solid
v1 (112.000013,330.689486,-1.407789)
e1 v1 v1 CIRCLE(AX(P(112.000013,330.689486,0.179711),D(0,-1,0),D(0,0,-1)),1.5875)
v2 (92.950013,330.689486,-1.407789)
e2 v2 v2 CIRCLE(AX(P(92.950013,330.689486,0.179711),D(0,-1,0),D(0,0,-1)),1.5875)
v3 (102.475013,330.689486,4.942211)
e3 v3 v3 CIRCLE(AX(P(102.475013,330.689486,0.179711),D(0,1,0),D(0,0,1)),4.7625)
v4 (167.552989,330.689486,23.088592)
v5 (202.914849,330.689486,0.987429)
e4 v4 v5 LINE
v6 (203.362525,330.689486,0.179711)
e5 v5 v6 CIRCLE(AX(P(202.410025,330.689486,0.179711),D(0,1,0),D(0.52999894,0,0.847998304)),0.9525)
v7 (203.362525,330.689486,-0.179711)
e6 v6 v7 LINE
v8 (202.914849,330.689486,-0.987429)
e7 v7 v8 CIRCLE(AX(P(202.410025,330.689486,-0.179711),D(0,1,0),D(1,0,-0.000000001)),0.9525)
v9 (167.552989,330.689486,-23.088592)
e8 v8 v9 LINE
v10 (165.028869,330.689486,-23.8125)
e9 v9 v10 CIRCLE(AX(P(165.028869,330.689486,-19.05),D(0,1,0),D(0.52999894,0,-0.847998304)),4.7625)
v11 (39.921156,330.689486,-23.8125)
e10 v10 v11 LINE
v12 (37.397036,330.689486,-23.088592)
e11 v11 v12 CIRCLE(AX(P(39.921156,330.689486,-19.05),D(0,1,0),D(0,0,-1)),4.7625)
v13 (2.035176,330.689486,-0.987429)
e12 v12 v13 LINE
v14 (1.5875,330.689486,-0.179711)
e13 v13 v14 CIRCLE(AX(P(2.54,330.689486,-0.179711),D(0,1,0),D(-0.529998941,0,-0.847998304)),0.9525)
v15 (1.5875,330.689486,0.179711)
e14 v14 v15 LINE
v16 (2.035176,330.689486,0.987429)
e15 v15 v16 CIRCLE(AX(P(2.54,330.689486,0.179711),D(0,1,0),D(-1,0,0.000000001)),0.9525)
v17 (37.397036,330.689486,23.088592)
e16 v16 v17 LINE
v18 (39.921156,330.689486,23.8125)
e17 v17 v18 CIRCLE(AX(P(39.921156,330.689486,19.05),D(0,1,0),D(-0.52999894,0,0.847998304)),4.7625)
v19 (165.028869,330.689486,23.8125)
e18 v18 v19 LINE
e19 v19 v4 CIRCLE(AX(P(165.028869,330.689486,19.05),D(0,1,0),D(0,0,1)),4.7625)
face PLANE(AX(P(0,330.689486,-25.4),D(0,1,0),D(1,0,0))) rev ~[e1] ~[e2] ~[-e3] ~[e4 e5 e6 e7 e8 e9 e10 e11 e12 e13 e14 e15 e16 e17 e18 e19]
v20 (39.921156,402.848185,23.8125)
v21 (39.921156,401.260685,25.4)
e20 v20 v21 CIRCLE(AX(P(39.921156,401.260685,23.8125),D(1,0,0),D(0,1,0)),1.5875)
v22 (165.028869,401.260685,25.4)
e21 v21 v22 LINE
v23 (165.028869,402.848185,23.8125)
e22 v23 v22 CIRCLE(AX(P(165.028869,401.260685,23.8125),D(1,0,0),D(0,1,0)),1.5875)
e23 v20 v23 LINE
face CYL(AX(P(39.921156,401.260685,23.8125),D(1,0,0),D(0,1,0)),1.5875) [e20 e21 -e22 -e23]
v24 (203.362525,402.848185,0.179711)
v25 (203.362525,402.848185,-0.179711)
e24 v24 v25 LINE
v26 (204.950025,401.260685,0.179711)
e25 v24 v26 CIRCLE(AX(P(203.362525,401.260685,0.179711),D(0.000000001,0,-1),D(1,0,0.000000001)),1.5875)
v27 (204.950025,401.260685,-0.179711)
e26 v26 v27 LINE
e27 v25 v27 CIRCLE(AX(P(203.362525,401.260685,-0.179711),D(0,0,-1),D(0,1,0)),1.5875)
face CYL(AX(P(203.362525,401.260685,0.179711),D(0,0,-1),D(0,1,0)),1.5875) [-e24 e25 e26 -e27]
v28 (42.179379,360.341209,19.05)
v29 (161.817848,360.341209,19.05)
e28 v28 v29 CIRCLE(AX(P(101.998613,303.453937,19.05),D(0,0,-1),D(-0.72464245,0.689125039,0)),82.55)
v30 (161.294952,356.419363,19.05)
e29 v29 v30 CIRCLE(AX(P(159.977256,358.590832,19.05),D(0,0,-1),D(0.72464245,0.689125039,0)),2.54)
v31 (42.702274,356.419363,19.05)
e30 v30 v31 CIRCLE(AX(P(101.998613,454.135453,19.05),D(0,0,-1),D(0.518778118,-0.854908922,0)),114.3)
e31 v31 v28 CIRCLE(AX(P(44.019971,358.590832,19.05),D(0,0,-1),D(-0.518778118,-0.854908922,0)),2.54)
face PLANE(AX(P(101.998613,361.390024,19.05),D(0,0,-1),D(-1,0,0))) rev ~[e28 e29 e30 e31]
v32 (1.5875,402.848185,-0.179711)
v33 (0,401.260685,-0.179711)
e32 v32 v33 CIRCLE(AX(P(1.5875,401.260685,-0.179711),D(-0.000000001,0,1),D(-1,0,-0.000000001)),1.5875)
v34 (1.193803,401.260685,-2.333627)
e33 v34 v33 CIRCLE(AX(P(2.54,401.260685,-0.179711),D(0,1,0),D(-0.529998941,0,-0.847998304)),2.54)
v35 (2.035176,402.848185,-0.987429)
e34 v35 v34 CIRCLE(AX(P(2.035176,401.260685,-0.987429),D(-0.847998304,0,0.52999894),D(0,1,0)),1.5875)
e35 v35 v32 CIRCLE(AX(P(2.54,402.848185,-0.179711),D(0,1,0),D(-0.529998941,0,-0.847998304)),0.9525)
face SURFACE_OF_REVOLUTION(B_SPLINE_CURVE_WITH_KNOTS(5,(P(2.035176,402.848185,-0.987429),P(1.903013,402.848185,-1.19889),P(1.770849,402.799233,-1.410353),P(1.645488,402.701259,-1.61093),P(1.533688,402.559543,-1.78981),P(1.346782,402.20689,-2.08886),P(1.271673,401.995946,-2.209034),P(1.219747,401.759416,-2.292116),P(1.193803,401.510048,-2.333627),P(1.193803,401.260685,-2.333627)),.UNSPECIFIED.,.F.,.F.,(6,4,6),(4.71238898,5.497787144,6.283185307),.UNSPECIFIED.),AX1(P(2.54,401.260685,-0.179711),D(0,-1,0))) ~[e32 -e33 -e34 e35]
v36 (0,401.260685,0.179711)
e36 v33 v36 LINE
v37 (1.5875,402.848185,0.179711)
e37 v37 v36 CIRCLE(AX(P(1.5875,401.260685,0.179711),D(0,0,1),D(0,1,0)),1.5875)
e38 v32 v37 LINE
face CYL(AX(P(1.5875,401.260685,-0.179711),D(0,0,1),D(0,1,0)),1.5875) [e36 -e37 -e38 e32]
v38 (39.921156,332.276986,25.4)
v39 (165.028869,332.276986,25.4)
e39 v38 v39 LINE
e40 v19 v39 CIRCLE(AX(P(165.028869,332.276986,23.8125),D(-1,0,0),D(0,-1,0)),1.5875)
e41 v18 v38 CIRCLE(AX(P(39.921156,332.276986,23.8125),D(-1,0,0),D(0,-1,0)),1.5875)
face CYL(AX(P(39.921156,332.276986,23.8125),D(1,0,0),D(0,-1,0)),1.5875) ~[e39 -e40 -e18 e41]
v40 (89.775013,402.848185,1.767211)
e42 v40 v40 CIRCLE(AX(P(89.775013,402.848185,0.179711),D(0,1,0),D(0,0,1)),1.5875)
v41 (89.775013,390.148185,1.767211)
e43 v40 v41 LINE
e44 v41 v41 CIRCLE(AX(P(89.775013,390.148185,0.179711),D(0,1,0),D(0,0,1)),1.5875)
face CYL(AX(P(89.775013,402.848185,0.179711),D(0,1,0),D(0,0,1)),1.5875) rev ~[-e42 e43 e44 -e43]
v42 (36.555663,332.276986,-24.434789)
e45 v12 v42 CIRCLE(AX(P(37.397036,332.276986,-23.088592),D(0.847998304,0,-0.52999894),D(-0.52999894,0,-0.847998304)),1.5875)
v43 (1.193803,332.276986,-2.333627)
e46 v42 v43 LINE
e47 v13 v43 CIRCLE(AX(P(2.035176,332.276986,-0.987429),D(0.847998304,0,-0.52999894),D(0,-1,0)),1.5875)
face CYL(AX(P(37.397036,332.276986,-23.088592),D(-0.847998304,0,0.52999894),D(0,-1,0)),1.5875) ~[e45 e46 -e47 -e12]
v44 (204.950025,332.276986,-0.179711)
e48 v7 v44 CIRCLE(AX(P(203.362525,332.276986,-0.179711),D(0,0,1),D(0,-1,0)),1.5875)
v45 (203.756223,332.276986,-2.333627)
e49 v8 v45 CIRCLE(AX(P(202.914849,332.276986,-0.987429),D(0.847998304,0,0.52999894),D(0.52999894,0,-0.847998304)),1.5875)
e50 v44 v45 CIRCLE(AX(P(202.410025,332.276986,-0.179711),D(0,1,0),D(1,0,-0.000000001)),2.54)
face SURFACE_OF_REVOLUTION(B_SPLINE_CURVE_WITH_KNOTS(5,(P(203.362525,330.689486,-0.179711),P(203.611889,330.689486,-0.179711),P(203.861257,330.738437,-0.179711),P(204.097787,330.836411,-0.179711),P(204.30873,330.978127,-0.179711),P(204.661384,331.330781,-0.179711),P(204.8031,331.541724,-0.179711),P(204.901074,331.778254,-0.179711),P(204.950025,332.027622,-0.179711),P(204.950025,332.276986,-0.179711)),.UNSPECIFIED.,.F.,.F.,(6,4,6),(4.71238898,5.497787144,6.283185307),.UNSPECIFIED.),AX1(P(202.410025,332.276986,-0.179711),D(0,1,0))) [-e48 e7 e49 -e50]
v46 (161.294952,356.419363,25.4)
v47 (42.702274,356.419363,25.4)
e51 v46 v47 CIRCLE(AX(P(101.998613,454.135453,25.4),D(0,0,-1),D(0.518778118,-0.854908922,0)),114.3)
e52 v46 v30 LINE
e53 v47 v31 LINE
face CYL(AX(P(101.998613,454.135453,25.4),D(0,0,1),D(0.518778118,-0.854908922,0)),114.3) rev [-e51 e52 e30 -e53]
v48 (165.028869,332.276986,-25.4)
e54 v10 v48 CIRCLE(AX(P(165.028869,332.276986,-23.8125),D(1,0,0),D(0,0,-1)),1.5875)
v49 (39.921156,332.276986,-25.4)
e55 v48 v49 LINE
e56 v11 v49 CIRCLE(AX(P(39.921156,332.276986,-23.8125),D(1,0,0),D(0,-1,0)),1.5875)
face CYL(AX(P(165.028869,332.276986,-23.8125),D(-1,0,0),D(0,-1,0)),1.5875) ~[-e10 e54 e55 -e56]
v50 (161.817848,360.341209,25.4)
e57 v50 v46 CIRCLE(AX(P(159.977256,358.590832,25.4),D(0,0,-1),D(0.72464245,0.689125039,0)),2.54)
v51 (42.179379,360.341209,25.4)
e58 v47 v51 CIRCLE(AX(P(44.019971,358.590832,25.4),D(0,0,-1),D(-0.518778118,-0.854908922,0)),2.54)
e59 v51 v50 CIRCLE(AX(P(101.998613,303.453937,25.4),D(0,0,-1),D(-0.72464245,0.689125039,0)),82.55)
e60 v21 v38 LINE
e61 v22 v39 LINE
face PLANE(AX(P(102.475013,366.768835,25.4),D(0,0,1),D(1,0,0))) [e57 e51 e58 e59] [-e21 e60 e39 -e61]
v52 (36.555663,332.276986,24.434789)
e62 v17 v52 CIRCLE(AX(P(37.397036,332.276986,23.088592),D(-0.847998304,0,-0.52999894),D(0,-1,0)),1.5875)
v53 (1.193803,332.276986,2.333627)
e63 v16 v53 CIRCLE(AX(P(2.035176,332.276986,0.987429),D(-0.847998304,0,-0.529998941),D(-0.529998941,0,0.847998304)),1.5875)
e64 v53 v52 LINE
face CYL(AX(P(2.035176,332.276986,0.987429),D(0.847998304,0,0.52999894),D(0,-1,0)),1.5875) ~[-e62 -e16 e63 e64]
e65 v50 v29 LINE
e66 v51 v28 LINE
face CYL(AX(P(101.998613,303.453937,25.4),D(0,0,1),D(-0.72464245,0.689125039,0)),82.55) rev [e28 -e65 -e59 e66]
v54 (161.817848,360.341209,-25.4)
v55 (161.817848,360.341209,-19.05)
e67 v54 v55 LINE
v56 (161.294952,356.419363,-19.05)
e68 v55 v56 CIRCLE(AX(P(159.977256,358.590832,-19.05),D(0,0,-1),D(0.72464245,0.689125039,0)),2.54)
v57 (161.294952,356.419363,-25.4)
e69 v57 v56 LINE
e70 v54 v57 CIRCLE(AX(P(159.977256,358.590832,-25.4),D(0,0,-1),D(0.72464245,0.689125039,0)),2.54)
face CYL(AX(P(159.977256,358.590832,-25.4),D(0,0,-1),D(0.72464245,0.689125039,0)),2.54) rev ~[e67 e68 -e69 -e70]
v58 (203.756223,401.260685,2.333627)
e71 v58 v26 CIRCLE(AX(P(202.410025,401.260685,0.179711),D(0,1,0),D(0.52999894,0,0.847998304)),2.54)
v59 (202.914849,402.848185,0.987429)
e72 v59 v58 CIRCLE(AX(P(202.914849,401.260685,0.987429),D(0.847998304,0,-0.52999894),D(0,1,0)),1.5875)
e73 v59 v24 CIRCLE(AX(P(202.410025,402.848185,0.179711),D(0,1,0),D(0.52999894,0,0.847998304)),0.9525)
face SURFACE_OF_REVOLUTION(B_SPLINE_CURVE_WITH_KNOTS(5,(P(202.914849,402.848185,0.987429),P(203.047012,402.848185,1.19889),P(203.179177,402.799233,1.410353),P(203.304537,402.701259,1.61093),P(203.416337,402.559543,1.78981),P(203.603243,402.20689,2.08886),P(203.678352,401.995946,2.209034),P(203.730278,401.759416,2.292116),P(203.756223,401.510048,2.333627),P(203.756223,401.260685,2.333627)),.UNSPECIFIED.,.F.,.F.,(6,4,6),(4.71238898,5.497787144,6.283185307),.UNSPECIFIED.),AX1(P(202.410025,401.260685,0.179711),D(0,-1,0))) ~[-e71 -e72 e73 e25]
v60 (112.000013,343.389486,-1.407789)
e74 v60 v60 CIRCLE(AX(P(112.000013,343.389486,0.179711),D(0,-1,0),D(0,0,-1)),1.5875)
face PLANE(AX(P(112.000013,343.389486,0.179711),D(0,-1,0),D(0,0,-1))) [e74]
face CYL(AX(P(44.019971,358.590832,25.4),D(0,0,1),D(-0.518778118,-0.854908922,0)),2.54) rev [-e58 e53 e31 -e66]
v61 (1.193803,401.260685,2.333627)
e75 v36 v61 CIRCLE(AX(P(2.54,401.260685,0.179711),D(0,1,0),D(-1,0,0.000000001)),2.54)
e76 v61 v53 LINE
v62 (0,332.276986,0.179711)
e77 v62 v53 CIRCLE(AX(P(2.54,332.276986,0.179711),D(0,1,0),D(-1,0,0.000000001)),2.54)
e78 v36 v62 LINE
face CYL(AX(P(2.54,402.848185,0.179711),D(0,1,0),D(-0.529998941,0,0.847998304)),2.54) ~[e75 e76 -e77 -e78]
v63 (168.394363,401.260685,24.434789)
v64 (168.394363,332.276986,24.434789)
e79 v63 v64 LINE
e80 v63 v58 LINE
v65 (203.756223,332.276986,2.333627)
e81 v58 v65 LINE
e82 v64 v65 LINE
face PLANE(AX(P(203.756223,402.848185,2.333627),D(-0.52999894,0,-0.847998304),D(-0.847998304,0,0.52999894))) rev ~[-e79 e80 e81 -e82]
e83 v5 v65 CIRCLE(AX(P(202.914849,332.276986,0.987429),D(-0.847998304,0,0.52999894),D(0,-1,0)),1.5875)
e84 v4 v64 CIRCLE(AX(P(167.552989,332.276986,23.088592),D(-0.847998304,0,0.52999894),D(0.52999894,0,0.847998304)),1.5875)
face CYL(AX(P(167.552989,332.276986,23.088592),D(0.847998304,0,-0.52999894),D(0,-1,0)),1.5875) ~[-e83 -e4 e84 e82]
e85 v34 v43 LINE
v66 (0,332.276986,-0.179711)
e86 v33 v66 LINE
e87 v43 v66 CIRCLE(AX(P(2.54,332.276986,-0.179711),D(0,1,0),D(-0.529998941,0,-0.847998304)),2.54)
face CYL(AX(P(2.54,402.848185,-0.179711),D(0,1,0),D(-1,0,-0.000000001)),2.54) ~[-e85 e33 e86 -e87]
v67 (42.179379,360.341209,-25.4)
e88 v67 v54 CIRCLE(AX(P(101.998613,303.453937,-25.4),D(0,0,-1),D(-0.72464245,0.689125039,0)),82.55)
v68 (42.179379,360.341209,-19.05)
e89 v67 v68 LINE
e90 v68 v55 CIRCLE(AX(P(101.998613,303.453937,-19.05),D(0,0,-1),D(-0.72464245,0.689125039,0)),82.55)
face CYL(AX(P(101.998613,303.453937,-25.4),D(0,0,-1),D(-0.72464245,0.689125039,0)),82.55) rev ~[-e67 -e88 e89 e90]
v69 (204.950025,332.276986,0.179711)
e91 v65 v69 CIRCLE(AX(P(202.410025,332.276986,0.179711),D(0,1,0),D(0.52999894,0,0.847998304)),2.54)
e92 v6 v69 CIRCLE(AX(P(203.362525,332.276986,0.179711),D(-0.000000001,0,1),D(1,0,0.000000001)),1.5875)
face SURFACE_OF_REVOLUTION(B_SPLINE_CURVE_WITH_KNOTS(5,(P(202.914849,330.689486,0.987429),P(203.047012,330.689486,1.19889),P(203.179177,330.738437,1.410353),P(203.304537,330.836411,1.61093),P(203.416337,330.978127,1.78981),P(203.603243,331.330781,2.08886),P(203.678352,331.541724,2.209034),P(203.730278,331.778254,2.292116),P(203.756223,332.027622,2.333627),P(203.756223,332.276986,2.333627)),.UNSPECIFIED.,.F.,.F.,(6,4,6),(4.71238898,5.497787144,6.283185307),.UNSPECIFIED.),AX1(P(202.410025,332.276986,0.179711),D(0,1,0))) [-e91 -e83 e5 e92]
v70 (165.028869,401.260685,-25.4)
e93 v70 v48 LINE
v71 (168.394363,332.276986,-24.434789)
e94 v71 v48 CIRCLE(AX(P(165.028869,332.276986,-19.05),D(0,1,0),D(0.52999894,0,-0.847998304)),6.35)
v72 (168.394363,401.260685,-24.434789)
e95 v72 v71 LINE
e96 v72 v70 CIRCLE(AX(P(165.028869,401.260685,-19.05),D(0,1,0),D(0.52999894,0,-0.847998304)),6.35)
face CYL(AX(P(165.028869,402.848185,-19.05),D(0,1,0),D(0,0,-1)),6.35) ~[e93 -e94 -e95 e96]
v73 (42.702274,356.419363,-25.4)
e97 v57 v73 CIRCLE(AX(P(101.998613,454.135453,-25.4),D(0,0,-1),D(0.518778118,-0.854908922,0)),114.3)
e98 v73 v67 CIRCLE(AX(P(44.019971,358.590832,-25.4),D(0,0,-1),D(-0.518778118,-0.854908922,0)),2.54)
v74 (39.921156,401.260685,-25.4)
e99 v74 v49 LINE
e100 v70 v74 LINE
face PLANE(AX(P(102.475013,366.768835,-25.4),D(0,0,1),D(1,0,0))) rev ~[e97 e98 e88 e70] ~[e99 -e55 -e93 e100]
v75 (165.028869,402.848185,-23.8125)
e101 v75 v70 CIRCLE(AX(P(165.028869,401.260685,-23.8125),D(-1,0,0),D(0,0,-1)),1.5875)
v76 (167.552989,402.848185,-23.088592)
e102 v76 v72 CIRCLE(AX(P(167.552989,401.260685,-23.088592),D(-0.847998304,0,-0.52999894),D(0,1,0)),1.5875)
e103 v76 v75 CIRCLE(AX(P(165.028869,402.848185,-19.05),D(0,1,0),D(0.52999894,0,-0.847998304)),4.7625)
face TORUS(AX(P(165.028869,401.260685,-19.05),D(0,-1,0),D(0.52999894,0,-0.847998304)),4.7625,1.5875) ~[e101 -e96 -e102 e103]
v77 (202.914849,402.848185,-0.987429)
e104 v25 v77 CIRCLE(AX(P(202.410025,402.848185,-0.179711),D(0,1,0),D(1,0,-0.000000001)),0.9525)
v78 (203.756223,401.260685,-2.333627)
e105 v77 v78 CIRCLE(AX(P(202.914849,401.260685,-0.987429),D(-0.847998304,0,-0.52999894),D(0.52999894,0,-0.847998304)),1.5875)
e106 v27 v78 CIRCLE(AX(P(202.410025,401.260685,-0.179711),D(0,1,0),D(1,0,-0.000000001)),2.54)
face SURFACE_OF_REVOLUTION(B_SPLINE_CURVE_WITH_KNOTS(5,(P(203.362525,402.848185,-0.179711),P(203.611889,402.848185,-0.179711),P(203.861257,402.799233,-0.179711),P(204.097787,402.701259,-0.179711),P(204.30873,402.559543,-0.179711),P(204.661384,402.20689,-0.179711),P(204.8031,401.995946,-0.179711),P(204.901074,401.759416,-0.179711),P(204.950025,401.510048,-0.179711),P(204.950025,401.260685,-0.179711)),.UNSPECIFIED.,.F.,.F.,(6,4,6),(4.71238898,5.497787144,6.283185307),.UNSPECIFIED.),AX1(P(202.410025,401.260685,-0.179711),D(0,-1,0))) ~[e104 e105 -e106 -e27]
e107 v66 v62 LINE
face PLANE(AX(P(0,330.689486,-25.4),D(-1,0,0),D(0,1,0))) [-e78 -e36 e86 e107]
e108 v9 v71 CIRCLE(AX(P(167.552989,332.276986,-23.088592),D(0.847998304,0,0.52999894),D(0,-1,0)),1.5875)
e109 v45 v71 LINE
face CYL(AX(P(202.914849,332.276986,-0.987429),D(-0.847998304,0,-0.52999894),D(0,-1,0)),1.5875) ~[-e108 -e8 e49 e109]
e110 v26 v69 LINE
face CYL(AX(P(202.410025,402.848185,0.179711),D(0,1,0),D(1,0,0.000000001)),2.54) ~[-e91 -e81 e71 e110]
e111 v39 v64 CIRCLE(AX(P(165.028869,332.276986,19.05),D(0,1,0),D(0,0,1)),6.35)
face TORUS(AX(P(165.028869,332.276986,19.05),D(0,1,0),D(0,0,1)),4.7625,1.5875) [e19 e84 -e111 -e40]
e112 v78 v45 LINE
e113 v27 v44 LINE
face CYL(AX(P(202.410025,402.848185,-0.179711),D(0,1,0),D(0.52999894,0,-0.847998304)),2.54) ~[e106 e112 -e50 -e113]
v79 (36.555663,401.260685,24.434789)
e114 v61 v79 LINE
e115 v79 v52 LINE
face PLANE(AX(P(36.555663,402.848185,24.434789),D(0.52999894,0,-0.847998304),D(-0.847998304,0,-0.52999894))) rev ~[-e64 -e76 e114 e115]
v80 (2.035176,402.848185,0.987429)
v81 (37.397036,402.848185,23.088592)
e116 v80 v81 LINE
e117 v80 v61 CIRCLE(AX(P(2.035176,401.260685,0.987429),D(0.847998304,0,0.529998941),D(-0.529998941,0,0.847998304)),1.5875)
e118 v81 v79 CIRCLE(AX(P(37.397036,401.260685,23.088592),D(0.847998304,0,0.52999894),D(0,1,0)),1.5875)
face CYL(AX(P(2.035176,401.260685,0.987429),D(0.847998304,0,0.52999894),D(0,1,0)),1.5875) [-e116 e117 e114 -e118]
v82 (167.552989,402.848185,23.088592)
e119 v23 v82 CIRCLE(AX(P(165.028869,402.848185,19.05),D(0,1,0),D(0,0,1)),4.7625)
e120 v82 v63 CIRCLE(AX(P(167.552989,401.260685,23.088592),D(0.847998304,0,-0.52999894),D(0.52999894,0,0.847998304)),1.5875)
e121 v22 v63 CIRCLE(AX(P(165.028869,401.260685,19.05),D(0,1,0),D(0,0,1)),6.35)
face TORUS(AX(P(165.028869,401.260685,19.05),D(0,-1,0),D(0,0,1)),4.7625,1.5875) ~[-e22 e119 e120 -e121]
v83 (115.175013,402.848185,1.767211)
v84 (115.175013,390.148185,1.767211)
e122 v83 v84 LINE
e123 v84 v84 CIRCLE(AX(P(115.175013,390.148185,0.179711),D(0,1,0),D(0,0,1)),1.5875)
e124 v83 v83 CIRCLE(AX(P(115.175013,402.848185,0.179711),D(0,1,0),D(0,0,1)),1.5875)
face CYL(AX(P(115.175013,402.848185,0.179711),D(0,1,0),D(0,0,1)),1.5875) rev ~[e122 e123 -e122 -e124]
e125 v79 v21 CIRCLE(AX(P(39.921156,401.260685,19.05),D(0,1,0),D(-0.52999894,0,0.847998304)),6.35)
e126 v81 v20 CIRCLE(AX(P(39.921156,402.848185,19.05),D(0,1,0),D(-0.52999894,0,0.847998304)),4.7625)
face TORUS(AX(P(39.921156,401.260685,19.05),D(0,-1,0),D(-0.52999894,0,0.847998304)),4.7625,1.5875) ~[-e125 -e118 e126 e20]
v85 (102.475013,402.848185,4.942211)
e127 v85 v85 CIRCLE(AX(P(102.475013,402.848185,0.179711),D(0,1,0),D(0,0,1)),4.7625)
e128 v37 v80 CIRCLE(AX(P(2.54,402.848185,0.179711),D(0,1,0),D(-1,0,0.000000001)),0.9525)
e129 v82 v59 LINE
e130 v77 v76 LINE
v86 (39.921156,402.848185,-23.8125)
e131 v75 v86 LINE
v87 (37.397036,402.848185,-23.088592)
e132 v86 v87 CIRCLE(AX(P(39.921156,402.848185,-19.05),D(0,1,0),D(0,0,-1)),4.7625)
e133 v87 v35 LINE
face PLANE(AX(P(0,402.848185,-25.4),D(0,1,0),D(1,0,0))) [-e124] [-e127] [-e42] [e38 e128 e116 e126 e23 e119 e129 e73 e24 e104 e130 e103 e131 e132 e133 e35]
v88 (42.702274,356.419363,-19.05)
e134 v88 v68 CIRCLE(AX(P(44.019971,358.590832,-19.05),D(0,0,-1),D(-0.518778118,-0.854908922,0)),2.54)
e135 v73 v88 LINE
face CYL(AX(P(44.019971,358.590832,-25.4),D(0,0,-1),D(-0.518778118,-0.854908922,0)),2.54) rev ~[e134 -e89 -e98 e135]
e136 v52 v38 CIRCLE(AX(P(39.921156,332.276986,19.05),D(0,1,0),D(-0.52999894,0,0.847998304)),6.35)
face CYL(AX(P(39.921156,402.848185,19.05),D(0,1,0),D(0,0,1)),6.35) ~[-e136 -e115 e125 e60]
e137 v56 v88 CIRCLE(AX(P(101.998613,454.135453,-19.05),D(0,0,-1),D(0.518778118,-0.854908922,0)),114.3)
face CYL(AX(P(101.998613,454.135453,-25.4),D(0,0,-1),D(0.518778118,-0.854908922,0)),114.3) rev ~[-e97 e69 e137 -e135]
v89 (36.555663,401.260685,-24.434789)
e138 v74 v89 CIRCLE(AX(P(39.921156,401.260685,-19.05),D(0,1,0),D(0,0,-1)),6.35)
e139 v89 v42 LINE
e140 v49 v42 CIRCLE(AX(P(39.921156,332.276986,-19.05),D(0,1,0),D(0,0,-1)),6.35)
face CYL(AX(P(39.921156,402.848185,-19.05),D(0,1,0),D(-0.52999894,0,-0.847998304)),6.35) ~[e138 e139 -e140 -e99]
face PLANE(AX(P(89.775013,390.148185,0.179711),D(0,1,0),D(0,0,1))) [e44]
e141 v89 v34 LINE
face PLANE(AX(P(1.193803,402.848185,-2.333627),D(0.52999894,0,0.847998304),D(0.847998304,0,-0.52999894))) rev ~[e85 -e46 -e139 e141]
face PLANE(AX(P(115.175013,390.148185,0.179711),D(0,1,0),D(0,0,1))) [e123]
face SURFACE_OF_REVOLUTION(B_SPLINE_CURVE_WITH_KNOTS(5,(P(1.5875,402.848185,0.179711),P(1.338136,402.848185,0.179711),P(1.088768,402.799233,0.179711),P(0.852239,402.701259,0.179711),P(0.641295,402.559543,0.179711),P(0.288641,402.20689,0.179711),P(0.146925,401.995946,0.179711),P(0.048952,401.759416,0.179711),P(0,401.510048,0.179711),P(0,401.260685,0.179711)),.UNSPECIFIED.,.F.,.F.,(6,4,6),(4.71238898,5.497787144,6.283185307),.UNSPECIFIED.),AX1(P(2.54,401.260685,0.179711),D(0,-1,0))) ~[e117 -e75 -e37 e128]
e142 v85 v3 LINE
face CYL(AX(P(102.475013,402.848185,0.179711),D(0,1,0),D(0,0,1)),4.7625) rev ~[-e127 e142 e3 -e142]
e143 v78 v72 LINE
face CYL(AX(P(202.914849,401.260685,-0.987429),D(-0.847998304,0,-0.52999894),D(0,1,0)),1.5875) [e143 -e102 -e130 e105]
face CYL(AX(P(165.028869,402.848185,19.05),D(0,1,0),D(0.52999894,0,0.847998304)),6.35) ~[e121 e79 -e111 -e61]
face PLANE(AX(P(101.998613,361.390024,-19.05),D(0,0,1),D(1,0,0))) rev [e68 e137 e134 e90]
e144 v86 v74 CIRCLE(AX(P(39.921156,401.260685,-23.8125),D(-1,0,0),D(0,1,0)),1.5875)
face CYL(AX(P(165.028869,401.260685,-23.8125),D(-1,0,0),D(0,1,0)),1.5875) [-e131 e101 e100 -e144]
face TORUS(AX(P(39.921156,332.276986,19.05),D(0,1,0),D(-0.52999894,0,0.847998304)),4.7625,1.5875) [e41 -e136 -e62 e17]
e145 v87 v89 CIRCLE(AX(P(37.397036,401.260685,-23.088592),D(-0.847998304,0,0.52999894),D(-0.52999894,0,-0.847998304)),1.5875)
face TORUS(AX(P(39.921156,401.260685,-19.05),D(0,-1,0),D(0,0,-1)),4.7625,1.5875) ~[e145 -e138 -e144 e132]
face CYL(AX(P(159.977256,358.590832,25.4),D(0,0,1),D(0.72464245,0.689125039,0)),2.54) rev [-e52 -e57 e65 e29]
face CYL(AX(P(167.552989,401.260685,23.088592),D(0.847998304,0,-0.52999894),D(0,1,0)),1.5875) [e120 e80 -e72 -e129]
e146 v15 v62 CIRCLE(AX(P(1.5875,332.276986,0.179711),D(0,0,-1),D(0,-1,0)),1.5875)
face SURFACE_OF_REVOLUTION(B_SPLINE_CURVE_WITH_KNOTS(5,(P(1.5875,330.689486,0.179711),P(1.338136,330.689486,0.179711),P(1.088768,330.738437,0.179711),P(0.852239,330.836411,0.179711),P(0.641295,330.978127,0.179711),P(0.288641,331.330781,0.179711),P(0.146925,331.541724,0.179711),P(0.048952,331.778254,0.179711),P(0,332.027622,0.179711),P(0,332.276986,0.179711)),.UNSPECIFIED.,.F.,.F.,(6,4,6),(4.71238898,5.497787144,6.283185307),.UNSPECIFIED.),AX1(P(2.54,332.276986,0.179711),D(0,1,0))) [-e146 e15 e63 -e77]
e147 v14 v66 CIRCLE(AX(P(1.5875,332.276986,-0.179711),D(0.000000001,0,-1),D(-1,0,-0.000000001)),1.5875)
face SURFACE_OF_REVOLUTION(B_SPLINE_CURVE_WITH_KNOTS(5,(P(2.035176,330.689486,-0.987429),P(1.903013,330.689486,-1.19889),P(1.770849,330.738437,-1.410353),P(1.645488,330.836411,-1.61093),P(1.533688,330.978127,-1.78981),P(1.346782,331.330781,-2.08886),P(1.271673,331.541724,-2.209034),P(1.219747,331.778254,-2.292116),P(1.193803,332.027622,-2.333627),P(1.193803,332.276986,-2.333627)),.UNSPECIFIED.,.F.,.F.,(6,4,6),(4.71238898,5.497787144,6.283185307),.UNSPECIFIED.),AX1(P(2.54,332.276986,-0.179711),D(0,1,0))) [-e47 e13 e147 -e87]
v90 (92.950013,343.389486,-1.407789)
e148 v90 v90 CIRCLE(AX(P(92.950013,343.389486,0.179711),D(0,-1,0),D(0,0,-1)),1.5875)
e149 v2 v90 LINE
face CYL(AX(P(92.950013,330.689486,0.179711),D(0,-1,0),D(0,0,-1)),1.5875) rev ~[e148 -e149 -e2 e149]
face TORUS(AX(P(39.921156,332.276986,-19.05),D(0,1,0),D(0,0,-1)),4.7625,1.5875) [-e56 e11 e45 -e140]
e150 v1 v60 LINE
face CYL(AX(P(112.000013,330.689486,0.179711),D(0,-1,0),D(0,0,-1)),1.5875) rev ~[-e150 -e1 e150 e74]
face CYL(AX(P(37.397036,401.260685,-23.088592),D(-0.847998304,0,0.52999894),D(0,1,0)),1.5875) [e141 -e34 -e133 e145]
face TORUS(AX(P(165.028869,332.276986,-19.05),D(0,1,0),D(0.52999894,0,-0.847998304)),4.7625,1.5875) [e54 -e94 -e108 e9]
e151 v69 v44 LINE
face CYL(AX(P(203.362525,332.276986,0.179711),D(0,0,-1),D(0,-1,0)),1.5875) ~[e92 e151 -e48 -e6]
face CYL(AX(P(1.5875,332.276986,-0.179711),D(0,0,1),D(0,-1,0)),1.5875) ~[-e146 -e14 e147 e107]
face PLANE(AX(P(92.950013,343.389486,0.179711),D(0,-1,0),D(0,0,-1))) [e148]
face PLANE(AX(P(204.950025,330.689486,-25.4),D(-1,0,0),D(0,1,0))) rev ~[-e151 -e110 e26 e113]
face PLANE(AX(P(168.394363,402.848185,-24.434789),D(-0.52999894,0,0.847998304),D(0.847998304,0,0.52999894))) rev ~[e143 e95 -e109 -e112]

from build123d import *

# Parameters (mm, degrees)
BOSS_EXTRUDE1_DEPTH      = 25.4
BOSS_EXTRUDE1_DEPTH_BACK = 25.4
SKETCH1_W                = 204.950025332
SKETCH1_H                = 72.158698858
SKETCH2_W                = 220.605080335
SKETCH2_H                = 76.557810487
SKETCH2_R                = 4.7625
CUT_EXTRUDE1_DEPTH       = 219.761401313
FILLET1_R                = 1.5875
CUT_EXTRUDE2_DEPTH       = 6.35
SKETCH4_R                = 1.5875
CUT_EXTRUDE3_DEPTH       = 12.7
SKETCH5_R                = 1.5875
CUT_EXTRUDE4_DEPTH       = 12.7


with BuildPart() as part:
    # Sketch1 → Boss-Extrude1 (new, two sides: drawn at the far end of the back side and taken through both)
    with BuildSketch(Plane.XY.offset(-BOSS_EXTRUDE1_DEPTH_BACK)):
        with Locations((102.475012666, 366.768835108)):
            Rectangle(SKETCH1_W, SKETCH1_H)
    extrude(amount=BOSS_EXTRUDE1_DEPTH + BOSS_EXTRUDE1_DEPTH_BACK)

    # Sketch2 → Cut-Extrude1 (cut, through all)
    # profile 1 of 2: a face of its own
    with BuildSketch(Plane(origin=(0, 402.848184537, 0), x_dir=(1, 0, 0), z_dir=(0, 1, 0))):
        with Locations((101.602425497, 0.332919425)):
            Rectangle(SKETCH2_W, SKETCH2_H)
        with BuildLine():
            Line((36.555662769, -24.43478923), (1.193802692, -2.333626683))
            ThreePointArc((1.193802692, -2.333626683), (0.318408098, -1.411023063), (0, -0.179710991))
            Line((0, -0.179710991), (0, 0.179710991))
            ThreePointArc((0, 0.179710991), (0.318408098, 1.411023063), (1.193802692, 2.333626683))
            Line((1.193802692, 2.333626683), (36.555662769, 24.43478923))
            ThreePointArc((36.555662769, 24.43478923), (38.17057208, 25.153929538), (39.921156038, 25.4))
            Line((39.921156038, 25.4), (165.028869294, 25.4))
            ThreePointArc((165.028869294, 25.4), (166.779453252, 25.153929538), (168.394362563, 24.43478923))
            Line((168.394362563, 24.43478923), (203.756222639, 2.333626683))
            ThreePointArc((203.756222639, 2.333626683), (204.631617234, 1.411023063), (204.950025332, 0.179710991))
            Line((204.950025332, 0.179710991), (204.950025332, -0.179710991))
            ThreePointArc((204.950025332, -0.179710991), (204.631617234, -1.411023063), (203.756222639, -2.333626683))
            Line((203.756222639, -2.333626683), (168.394362563, -24.43478923))
            ThreePointArc((168.394362563, -24.43478923), (166.779453252, -25.153929538), (165.028869294, -25.4))
            Line((165.028869294, -25.4), (39.921156038, -25.4))
            ThreePointArc((39.921156038, -25.4), (38.17057208, -25.153929538), (36.555662769, -24.43478923))
        make_face(mode=Mode.SUBTRACT)
    # profile 2 of 2: a face of its own
    with BuildSketch(Plane(origin=(0, 402.848184537, 0), x_dir=(1, 0, 0), z_dir=(0, 1, 0))):
        with Locations((102.475012666, -0.179710991)):
            Circle(SKETCH2_R)
    extrude(amount=-CUT_EXTRUDE1_DEPTH, mode=Mode.SUBTRACT)

    # Fillet1
    fillet1_edges = [part.edges().sort_by_distance(p)[0] for p in [
        (38.17057208, 330.689485679, 25.153929538),
        (18.874732731, 330.689485679, 13.384207957),
        (0.318408098, 330.689485679, 1.411023063),
        (0, 330.689485679, 0),
        (0.318408098, 330.689485679, -1.411023063),
        (18.874732731, 330.689485679, -13.384207957),
        (38.17057208, 330.689485679, -25.153929538),
        (102.475012666, 330.689485679, -25.4),
        (166.779453252, 330.689485679, -25.153929538),
        (186.075292601, 330.689485679, -13.384207957),
        (204.631617234, 330.689485679, -1.411023063),
        (204.950025332, 330.689485679, 0),
        (204.631617234, 330.689485679, 1.411023063),
        (186.075292601, 330.689485679, 13.384207957),
        (166.779453252, 330.689485679, 25.153929538),
        (0.318408098, 402.848184537, 1.411023063),
        (0, 402.848184537, 0),
        (0.318408098, 402.848184537, -1.411023063),
        (18.874732731, 402.848184537, -13.384207957),
        (38.17057208, 402.848184537, -25.153929538),
        (102.475012666, 402.848184537, -25.4),
        (166.779453252, 402.848184537, -25.153929538),
        (186.075292601, 402.848184537, -13.384207957),
        (204.631617234, 402.848184537, -1.411023063),
        (204.950025332, 402.848184537, 0),
        (204.631617234, 402.848184537, 1.411023063),
        (186.075292601, 402.848184537, 13.384207957),
        (166.779453252, 402.848184537, 25.153929538),
        (102.475012666, 402.848184537, 25.4),
        (38.17057208, 402.848184537, 25.153929538),
        (102.475012666, 330.689485679, 25.4),
        (18.874732731, 402.848184537, 13.384207957),
    ]]
    fillet(fillet1_edges, radius=FILLET1_R)

    # Sketch3 → Cut-Extrude2 (cut)
    with BuildSketch(Plane.XY.offset(25.4)):
        with BuildLine():
            ThreePointArc((42.179379055, 360.341209381), (101.998613328, 386.003937421), (161.817847601, 360.341209381))
            ThreePointArc((161.817847601, 360.341209381), (162.494976111, 358.255146927), (161.294952196, 356.419363121))
            ThreePointArc((161.294952196, 356.419363121), (101.998613328, 339.835452874), (42.702274459, 356.419363121))
            ThreePointArc((42.702274459, 356.419363121), (41.502250545, 358.255146927), (42.179379055, 360.341209381))
        make_face()
    cut_extrude2 = extrude(amount=-CUT_EXTRUDE2_DEPTH, mode=Mode.SUBTRACT)

    # Mirror1: Cut-Extrude2 across plane
    add(cut_extrude2.mirror(Plane.XY), mode=Mode.SUBTRACT)

    # Sketch4 → Cut-Extrude3 (cut)
    with BuildSketch(Plane.XZ.offset(-330.689485679)):
        with Locations((92.950012666, 0.179710991)):
            Circle(SKETCH4_R)
        with Locations((112.000012666, 0.179710991)):
            Circle(SKETCH4_R)
    extrude(amount=-CUT_EXTRUDE3_DEPTH, mode=Mode.SUBTRACT)

    # Sketch5 → Cut-Extrude4 (cut)
    with BuildSketch(Plane(origin=(0, 402.848184537, 0), x_dir=(1, 0, 0), z_dir=(0, 1, 0))):
        with Locations((89.775012666, -0.179710991)):
            Circle(SKETCH5_R)
        with Locations((115.175012666, -0.179710991)):
            Circle(SKETCH5_R)
    extrude(amount=-CUT_EXTRUDE4_DEPTH, mode=Mode.SUBTRACT)


solid = part.part
